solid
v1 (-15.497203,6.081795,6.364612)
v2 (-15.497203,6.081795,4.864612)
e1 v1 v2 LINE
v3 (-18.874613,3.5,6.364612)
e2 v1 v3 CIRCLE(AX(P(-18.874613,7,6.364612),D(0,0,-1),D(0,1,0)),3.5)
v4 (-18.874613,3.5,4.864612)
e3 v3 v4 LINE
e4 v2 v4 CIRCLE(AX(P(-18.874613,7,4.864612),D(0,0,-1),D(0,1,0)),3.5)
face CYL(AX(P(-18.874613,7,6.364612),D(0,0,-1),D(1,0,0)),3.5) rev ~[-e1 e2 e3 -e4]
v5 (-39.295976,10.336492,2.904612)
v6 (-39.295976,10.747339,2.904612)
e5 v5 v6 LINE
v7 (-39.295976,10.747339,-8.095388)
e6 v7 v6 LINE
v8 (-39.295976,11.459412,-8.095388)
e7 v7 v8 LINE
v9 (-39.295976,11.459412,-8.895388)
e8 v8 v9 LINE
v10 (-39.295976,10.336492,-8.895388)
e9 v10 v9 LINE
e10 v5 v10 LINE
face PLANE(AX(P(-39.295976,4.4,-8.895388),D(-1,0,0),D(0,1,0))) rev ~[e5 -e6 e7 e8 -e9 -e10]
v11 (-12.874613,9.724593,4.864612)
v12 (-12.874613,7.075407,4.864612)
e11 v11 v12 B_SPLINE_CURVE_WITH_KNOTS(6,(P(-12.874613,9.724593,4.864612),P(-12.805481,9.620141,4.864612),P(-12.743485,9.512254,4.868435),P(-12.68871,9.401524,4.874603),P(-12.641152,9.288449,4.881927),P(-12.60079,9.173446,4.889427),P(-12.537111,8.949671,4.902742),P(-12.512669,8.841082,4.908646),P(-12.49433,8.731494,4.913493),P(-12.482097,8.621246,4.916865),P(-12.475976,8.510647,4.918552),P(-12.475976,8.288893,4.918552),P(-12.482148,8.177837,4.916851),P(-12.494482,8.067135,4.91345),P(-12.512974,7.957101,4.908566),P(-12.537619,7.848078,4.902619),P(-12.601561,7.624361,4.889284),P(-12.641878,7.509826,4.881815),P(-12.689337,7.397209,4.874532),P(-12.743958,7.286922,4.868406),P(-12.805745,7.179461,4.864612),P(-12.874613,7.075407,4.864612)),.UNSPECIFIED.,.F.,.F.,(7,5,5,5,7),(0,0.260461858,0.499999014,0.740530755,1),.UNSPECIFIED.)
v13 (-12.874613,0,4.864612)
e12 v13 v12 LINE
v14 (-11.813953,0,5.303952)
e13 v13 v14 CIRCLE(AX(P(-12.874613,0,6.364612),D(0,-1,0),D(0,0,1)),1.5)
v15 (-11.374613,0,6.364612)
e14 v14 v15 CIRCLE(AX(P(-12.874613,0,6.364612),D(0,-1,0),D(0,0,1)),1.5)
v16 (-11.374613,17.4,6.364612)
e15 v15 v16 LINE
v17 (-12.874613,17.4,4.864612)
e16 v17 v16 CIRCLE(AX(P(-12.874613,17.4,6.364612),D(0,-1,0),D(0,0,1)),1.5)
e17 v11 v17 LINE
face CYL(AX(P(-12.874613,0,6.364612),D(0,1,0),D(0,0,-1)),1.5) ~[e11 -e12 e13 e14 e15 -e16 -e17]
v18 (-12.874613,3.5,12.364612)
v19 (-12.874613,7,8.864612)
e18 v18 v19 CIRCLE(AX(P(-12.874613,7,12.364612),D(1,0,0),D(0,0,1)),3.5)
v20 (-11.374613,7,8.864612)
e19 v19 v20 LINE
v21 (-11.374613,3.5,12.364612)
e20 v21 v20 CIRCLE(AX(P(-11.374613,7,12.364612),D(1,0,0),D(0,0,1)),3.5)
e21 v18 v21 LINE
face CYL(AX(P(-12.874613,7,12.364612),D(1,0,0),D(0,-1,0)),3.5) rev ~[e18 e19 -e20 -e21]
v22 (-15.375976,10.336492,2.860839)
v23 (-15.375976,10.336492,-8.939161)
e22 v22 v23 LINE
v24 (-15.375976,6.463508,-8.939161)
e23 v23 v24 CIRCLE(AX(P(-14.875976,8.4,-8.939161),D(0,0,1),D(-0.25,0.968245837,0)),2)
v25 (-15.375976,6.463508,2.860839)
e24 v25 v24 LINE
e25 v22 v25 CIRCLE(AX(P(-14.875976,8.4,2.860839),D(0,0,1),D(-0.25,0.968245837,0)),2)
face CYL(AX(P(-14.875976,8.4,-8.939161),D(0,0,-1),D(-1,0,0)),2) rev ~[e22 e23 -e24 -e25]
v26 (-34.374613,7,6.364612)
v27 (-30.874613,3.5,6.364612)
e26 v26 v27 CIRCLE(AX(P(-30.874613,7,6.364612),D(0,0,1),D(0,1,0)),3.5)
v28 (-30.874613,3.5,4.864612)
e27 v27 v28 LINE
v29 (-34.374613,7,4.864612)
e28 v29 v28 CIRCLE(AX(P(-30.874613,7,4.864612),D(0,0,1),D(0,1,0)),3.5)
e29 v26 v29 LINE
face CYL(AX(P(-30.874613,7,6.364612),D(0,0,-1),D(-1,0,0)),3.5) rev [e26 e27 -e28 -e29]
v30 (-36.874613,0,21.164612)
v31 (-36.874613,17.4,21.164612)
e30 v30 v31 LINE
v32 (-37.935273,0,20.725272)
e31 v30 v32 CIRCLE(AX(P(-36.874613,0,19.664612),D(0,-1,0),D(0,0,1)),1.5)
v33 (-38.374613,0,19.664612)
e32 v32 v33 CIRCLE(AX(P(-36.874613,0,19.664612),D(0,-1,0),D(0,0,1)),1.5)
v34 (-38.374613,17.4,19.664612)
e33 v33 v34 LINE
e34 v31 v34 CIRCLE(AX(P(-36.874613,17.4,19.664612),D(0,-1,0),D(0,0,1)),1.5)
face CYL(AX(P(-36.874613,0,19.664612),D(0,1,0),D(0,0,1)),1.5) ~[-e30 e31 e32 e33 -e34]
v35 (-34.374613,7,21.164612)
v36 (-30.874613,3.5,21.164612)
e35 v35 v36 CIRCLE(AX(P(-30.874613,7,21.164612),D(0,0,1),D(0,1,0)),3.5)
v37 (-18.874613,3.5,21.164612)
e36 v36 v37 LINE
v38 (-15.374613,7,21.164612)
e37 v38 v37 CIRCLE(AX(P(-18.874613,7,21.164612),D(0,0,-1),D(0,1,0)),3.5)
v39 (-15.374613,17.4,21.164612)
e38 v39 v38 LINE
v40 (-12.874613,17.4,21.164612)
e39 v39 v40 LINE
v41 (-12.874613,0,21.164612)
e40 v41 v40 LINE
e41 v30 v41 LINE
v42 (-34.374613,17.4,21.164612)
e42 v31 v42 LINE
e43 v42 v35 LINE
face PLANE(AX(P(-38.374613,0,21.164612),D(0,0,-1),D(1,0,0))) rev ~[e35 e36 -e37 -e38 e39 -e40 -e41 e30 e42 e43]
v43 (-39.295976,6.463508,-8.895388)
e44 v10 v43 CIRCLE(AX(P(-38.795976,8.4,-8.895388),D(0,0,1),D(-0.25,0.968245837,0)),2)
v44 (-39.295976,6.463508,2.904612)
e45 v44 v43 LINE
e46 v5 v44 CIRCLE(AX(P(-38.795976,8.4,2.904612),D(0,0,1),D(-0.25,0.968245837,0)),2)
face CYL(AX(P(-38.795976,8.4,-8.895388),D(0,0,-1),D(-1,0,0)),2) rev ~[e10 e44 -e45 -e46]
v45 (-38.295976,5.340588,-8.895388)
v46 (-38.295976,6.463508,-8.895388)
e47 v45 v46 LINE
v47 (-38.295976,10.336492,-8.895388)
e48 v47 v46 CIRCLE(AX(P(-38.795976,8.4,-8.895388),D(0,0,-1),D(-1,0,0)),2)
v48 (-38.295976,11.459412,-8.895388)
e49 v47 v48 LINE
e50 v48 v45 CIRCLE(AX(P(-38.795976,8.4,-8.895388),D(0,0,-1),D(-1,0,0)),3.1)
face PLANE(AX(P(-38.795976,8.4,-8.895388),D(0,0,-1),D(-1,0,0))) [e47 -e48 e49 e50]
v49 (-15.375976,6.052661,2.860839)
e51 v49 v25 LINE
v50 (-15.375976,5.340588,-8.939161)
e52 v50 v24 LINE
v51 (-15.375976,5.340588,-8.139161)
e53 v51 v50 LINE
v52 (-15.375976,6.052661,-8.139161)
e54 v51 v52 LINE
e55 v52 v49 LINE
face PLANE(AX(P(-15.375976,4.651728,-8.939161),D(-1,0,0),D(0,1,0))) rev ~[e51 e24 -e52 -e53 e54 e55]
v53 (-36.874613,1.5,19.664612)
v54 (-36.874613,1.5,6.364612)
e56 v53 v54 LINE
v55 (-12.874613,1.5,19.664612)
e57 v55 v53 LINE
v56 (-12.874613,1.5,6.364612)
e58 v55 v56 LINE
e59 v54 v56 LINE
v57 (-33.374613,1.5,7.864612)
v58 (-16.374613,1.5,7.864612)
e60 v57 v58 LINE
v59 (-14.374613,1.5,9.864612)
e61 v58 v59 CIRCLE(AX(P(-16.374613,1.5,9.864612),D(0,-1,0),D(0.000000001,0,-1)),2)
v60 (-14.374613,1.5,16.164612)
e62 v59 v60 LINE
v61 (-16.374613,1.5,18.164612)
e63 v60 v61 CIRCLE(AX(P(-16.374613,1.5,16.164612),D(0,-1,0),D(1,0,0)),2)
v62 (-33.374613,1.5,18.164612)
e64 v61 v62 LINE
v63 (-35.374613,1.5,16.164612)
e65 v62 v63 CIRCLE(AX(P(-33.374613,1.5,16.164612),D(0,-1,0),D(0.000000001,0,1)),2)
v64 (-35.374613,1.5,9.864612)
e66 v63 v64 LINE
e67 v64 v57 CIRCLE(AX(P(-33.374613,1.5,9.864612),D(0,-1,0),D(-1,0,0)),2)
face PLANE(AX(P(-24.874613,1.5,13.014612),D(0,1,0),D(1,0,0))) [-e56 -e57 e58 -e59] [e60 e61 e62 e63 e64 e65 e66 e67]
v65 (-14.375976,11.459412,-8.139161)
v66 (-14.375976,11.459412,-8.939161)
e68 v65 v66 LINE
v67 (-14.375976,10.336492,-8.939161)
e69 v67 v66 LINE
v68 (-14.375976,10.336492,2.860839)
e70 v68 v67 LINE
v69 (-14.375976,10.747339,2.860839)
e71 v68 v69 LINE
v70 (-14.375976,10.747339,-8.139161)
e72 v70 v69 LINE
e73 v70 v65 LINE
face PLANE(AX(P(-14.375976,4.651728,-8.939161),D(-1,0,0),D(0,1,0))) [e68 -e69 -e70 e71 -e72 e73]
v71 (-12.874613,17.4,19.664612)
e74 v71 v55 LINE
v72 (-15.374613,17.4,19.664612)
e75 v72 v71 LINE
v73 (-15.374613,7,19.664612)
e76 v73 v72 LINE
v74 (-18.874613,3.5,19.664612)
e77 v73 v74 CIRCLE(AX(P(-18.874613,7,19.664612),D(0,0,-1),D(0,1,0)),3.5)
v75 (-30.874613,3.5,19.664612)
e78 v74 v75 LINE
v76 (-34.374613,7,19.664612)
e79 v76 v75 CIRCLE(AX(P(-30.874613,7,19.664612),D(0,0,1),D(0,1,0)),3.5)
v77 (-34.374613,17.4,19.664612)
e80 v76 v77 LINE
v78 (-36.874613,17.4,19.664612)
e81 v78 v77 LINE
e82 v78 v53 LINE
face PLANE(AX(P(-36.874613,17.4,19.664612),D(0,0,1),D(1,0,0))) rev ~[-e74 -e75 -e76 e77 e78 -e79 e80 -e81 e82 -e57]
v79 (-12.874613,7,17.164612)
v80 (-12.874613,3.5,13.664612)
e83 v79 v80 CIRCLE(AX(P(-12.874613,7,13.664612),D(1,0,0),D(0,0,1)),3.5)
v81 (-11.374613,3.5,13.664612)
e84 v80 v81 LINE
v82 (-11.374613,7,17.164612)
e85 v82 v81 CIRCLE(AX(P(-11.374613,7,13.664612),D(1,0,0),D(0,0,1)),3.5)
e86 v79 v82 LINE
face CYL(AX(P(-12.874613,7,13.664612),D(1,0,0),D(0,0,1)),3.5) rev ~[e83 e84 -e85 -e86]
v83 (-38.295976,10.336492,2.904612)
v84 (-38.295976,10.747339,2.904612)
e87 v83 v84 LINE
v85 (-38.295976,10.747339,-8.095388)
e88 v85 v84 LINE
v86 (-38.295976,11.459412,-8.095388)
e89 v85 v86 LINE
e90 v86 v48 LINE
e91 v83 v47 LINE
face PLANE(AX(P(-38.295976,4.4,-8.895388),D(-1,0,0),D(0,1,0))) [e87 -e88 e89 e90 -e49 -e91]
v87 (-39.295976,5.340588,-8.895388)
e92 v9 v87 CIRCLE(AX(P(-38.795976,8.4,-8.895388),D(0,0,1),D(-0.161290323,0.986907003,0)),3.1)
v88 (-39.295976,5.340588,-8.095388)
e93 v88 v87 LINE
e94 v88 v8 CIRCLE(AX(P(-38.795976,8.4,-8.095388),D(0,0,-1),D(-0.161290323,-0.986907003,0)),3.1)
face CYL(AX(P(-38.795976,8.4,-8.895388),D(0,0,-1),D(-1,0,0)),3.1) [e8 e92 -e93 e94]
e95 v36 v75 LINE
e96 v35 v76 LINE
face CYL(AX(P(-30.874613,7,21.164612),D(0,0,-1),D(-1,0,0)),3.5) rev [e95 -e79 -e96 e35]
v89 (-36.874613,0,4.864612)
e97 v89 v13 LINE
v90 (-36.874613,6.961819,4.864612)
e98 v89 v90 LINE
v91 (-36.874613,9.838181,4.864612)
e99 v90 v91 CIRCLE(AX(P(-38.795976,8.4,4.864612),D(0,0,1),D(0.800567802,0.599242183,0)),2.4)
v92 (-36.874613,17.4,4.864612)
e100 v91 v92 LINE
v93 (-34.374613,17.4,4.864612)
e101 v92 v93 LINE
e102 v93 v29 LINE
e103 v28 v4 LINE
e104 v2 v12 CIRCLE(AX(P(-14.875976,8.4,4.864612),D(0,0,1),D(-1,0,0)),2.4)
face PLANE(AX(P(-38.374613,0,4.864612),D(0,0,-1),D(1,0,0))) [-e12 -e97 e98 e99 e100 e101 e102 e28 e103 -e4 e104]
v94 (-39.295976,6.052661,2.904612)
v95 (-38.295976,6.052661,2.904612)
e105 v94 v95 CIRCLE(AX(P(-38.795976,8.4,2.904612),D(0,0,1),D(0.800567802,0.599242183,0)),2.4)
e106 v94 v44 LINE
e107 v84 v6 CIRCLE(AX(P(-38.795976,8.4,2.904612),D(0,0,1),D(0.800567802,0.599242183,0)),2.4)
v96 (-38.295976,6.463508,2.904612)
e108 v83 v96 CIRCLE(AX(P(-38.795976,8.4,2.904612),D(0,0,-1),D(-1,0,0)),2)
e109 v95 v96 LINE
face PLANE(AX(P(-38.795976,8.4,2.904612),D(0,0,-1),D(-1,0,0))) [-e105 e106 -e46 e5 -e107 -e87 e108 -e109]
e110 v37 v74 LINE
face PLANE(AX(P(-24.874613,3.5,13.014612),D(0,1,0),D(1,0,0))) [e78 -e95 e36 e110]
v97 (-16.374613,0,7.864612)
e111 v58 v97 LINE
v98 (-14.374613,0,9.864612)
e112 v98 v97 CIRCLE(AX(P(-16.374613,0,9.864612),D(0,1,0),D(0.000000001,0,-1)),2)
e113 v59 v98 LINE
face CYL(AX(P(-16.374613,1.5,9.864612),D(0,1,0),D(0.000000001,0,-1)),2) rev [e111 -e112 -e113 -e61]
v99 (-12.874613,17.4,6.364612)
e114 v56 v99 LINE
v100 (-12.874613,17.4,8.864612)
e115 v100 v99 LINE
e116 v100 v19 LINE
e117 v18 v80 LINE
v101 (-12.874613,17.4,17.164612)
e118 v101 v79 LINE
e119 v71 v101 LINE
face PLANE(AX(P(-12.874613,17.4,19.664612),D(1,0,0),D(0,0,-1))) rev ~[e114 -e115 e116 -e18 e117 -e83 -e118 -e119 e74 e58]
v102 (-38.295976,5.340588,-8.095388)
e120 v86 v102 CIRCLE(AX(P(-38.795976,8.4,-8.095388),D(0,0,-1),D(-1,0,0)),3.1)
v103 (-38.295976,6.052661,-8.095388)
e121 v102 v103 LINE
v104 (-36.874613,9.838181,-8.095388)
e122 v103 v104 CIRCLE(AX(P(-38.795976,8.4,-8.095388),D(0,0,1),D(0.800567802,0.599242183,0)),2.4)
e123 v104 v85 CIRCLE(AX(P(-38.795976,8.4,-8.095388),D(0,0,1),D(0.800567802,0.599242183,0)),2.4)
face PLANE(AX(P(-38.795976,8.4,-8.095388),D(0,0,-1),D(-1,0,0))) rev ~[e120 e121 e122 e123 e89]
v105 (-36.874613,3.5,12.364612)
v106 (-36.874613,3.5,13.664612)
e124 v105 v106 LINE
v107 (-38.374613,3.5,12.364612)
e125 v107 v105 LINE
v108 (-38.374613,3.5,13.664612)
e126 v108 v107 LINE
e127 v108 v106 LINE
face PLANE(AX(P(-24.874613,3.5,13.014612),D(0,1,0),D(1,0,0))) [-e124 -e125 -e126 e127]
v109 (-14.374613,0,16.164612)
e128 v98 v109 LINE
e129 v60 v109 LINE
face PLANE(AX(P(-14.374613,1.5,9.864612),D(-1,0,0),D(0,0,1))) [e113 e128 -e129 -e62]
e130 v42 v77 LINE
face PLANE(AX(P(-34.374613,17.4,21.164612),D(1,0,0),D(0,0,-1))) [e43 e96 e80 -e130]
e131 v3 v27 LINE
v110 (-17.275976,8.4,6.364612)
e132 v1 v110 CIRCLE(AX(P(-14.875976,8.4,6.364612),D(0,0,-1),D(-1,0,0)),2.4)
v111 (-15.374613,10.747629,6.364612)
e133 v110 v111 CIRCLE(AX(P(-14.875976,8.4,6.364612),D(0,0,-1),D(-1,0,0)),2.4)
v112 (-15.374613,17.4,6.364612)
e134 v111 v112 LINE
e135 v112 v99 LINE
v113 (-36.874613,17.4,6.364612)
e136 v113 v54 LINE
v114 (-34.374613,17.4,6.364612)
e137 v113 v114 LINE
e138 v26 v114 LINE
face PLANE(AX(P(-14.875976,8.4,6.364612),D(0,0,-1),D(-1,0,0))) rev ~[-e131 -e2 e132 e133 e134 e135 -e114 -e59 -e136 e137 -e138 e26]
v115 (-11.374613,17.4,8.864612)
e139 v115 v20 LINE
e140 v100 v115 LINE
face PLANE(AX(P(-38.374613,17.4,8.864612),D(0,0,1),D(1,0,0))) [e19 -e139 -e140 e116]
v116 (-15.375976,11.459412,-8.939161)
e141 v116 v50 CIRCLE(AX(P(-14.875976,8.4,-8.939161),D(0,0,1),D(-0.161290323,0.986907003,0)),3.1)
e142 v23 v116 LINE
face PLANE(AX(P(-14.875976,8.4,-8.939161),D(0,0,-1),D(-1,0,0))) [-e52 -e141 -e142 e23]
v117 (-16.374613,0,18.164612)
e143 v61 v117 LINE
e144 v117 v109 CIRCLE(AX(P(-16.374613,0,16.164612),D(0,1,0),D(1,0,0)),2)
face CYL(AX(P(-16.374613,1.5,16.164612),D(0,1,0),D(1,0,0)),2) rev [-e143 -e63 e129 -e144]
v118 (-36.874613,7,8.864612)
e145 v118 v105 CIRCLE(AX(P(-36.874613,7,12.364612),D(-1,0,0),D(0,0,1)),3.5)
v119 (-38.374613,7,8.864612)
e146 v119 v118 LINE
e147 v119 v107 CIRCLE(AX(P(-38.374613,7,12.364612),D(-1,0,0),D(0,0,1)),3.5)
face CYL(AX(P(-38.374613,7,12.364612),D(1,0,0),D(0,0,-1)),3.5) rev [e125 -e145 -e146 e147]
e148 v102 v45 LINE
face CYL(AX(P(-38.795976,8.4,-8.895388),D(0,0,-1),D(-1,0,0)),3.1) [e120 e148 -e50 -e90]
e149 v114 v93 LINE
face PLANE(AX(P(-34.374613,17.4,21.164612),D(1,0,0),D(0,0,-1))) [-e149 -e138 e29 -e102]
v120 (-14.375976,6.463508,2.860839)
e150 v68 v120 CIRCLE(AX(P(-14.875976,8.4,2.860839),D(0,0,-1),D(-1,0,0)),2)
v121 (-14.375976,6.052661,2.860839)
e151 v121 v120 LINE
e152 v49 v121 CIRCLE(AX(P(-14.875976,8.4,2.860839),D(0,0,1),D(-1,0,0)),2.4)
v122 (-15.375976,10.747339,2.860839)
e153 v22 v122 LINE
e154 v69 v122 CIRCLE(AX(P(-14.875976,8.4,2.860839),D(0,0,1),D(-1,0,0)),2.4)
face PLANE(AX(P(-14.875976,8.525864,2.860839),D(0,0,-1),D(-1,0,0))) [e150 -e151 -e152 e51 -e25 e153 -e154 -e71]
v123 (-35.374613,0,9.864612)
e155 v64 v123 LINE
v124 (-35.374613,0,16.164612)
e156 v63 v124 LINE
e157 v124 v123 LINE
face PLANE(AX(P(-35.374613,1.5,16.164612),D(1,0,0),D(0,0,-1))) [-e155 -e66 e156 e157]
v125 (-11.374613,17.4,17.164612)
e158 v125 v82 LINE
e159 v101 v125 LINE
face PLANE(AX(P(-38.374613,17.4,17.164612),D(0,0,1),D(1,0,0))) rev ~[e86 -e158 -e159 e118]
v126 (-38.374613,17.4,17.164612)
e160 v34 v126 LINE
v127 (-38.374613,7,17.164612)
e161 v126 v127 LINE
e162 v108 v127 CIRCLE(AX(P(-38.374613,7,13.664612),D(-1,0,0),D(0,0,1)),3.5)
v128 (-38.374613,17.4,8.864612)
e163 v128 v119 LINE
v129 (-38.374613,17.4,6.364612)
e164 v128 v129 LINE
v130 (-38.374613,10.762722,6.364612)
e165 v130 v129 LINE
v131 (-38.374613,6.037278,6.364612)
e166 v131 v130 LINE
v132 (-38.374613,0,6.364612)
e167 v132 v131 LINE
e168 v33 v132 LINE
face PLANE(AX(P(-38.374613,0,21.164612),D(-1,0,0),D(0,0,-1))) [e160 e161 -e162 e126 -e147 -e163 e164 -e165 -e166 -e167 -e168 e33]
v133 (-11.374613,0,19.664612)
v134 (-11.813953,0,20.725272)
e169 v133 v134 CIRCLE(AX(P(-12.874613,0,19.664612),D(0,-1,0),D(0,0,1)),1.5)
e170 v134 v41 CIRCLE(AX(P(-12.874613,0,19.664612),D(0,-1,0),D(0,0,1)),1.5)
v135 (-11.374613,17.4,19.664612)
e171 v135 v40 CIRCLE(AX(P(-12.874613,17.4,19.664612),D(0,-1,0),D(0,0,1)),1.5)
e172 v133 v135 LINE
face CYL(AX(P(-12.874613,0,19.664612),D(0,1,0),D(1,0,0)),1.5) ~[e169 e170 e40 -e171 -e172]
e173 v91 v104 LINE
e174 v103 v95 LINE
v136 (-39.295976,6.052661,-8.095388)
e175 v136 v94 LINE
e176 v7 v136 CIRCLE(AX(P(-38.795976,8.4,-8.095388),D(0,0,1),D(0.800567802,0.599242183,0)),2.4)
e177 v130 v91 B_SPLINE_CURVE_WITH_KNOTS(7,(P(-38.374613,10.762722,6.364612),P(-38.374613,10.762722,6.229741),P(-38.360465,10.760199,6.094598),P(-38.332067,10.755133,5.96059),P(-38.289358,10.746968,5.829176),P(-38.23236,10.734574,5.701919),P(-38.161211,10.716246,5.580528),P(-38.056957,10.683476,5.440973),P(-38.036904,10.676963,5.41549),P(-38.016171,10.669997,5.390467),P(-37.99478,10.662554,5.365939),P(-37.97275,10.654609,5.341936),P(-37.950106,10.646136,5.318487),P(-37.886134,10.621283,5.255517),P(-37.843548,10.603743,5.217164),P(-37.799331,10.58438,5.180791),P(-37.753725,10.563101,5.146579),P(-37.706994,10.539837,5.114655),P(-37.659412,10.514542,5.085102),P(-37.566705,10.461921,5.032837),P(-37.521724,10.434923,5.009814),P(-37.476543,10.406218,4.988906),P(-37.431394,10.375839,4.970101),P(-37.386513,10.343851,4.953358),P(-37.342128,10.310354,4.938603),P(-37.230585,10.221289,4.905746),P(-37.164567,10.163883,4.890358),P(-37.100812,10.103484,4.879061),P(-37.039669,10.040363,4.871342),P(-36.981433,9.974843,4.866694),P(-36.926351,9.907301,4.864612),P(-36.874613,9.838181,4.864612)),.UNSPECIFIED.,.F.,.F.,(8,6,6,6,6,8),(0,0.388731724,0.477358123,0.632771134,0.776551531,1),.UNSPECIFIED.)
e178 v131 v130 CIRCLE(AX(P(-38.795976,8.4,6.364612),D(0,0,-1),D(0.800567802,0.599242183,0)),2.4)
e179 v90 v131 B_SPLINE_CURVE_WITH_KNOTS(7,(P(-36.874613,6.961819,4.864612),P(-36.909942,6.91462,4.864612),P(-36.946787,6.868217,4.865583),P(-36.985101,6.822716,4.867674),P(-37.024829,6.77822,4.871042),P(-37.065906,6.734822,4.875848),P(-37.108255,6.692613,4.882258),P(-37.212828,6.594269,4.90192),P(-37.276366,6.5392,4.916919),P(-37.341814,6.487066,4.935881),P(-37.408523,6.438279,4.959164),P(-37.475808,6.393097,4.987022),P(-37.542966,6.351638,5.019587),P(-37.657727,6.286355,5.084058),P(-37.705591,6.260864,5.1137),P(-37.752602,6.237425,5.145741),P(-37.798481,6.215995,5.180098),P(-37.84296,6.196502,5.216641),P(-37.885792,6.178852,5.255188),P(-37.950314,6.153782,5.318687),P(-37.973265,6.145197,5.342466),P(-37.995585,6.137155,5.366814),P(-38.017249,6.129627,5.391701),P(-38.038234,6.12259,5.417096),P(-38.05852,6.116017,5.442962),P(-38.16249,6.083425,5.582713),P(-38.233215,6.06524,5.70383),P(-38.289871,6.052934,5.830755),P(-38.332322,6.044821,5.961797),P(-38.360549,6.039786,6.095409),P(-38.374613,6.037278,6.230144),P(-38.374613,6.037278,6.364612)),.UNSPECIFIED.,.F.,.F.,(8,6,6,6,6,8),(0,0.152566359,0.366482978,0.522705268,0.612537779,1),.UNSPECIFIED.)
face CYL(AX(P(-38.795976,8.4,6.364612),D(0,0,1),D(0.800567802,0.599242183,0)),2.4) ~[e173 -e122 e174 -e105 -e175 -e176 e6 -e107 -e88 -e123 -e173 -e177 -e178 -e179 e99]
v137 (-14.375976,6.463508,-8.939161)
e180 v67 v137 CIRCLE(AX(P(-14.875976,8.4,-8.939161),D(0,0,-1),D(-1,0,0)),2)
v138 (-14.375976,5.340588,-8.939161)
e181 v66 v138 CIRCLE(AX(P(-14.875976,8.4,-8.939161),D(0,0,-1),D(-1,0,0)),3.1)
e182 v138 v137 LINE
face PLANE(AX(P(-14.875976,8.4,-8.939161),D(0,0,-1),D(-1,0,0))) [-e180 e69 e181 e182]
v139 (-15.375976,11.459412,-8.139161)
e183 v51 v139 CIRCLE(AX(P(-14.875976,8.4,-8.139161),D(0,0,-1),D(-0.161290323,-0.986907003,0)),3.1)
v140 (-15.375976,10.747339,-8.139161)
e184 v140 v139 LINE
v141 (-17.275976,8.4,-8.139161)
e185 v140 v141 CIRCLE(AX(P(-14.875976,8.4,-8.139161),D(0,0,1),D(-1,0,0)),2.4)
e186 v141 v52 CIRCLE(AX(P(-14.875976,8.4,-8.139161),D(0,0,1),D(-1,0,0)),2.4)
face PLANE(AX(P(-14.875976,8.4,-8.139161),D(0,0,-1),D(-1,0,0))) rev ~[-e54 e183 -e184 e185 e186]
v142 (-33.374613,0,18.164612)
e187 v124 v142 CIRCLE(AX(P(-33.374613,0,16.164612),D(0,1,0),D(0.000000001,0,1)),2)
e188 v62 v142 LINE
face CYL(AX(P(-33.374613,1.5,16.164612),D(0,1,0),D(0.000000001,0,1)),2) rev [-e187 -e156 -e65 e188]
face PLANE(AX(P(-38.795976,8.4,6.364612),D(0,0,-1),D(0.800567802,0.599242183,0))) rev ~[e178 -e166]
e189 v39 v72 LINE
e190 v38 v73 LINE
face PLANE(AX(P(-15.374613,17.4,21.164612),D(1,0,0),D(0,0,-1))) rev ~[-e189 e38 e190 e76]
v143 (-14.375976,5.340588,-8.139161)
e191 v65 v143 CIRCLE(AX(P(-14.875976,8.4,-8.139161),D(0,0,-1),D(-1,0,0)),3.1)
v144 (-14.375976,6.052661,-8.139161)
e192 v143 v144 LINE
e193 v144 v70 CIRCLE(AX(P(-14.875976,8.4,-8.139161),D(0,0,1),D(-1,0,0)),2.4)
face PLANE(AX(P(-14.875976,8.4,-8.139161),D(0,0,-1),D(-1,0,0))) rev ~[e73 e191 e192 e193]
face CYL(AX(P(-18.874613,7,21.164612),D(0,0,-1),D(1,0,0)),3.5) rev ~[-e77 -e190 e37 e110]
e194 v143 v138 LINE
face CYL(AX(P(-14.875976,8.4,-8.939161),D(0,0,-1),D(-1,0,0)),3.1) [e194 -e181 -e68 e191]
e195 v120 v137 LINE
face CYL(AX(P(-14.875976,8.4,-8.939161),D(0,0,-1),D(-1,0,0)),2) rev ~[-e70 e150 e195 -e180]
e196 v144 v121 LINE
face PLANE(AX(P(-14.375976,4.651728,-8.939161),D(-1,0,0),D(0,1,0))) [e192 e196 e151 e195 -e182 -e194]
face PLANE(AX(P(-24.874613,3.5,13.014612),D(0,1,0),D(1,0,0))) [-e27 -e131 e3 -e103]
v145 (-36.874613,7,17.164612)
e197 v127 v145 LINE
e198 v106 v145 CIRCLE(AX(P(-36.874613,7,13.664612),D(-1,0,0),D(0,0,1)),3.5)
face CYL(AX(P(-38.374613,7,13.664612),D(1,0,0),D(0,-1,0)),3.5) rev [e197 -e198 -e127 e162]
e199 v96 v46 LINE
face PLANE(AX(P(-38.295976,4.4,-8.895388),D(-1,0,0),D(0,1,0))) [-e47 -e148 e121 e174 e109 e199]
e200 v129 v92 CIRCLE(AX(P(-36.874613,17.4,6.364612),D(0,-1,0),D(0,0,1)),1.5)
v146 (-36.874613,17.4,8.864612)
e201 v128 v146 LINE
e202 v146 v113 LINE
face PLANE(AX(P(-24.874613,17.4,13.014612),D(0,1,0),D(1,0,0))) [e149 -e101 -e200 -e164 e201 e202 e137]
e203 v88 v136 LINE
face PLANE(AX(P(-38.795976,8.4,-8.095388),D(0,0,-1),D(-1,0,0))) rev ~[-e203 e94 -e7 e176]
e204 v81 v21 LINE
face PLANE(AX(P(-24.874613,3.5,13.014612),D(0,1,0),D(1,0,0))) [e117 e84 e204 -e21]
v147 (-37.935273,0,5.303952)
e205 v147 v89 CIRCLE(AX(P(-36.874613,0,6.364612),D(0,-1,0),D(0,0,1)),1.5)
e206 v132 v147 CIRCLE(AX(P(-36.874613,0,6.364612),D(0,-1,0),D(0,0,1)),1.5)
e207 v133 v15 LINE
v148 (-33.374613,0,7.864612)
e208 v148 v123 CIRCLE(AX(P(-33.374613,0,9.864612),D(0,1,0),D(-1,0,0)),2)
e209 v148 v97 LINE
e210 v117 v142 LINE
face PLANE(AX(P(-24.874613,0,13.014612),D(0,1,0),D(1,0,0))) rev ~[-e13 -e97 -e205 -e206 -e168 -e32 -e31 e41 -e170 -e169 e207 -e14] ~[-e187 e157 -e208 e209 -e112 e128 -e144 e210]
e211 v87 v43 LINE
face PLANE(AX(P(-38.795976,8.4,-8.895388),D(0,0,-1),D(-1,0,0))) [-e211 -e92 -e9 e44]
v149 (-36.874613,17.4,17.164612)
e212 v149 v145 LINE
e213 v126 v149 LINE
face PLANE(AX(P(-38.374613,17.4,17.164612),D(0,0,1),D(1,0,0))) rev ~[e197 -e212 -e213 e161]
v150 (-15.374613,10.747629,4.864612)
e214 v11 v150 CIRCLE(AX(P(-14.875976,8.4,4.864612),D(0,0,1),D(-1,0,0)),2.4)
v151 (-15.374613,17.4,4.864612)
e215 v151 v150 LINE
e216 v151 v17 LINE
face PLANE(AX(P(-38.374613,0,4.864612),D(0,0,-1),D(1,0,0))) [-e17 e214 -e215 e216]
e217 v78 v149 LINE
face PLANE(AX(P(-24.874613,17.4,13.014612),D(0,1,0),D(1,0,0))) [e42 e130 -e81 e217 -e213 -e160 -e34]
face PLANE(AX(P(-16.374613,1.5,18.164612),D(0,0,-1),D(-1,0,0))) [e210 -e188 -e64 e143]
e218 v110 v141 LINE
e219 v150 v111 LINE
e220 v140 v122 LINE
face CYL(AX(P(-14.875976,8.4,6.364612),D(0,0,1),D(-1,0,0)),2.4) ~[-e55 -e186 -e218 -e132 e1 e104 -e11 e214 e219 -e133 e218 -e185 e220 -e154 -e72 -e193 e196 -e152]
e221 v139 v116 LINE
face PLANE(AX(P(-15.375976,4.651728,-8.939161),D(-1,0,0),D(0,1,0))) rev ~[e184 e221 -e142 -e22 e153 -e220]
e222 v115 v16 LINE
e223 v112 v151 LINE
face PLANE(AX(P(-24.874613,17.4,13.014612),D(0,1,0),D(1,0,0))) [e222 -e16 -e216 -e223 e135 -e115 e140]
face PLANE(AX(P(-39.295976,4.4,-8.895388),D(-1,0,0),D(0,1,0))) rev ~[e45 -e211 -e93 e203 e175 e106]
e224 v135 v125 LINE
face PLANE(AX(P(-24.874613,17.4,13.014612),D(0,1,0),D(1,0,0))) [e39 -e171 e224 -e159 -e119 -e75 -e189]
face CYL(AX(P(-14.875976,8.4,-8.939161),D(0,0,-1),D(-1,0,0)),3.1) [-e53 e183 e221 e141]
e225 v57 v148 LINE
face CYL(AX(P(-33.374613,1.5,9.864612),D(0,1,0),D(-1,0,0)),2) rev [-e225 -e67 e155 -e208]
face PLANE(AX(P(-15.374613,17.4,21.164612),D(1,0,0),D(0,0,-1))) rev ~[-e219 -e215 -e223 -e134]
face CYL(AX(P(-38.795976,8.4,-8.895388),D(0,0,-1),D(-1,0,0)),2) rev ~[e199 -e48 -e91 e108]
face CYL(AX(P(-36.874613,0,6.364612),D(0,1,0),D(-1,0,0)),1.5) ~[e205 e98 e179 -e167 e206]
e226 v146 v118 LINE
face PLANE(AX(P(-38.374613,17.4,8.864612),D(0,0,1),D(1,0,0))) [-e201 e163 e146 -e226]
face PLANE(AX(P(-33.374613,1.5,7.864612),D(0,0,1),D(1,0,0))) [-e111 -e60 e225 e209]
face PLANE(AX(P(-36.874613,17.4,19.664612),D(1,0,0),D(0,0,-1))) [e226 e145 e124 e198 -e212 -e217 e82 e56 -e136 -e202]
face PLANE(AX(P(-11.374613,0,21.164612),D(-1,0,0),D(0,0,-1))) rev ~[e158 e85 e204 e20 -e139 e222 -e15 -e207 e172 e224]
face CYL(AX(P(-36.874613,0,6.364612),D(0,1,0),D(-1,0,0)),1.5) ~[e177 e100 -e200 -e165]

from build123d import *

# Parameters (mm, degrees)
SKETCH1_W                = 27
SKETCH1_H                = 16.3
BOSS_EXTRUDE1_DEPTH      = 17.4
SKETCH2_W                = 24
SKETCH2_H                = 13.3
CUT_EXTRUDE1_DEPTH       = 15.9
SKETCH3_W                = 19
SKETCH3_H                = 16.3
CUT_EXTRUDE2_DEPTH       = 13.9
SKETCH4_W                = 27
SKETCH4_H                = 8.3
CUT_EXTRUDE3_DEPTH       = 13.9
SKETCH6_R                = 3.69
BOSS_EXTRUDE2_DEPTH      = 2.38
SKETCH7_R                = 3.1
CUT_EXTRUDE4_DEPTH       = 0.8
SKETCH8_R                = 2.4
CUT_EXTRUDE5_DEPTH       = 4.8
CUT_EXTRUDE7_START       = -0.8
SKETCH9_R                = 3.1
CUT_EXTRUDE7_DEPTH       = 0.8
CUT_EXTRUDE8_DEPTH       = 10
FILLET1_R                = 3.5
FILLET2_R                = 3.5
FILLET3_R                = 3.5
FILLET4_R                = 3.5
FILLET5_R                = 3.5
FILLET6_R                = 3.5
FILLET7_R                = 3.5
FILLET8_R                = 3.5
FILLET9_R                = 1.5
FILLET10_R               = 1.5
FILLET11_R               = 1.5
FILLET12_R               = 1.5
SKETCH11_W               = 20
SKETCH11_H               = 4.569127273
CUT_EXTRUDE10_DEPTH      = 35
SKETCH12_W               = 26.121320344
SKETCH12_H               = 15.421320343
BOSS_EXTRUDE3_DEPTH      = 1.5
BOSS_EXTRUDE4_DEPTH      = 13.76
BOSS_EXTRUDE4_DEPTH_BACK = 1.5
SKETCH14_R               = 2.4
SKETCH15_R               = 3.1
BOSS_EXTRUDE6_DEPTH      = 0.8
SKETCH17_R               = 2
CUT_EXTRUDE11_DEPTH      = 11.8
SKETCH18_W               = 1
SKETCH18_H               = 8
CUT_EXTRUDE12_DEPTH      = 11.8
BOSS_EXTRUDE7_DEPTH      = 13.803772877
BOSS_EXTRUDE7_DEPTH_BACK = 1.5
SKETCH19_R               = 2.4
SKETCH20_R               = 3.1
BOSS_EXTRUDE8_DEPTH      = 0.8
SKETCH21_R               = 2
CUT_EXTRUDE13_DEPTH      = 11.8
SKETCH22_W               = 1
SKETCH22_H               = 7.748272369
CUT_EXTRUDE14_DEPTH      = 11.8
CUT_EXTRUDE15_DEPTH      = 11.8


with BuildPart() as part:
    # Sketch1 → Boss-Extrude1 (new body)
    with BuildSketch(Plane(origin=(0, 0, 0), x_dir=(1, 0, 0), z_dir=(0, 1, 0))):
        with Locations((-24.874612789, -13.014611924)):
            Rectangle(SKETCH1_W, SKETCH1_H)
    extrude(amount=BOSS_EXTRUDE1_DEPTH)

    # Sketch2 → Cut-Extrude1 (cut)
    with BuildSketch(Plane(origin=(0, 17.4, 0), x_dir=(1, 0, 0), z_dir=(0, 1, 0))):
        with Locations((-24.874612789, -13.014611924)):
            Rectangle(SKETCH2_W, SKETCH2_H)
    extrude(amount=-CUT_EXTRUDE1_DEPTH, mode=Mode.SUBTRACT)

    # Sketch3 → Cut-Extrude2 (cut)
    with BuildSketch(Plane(origin=(0, 17.4, 0), x_dir=(1, 0, 0), z_dir=(0, 1, 0))):
        with Locations((-24.874612789, -13.014611924)):
            Rectangle(SKETCH3_W, SKETCH3_H)
    extrude(amount=-CUT_EXTRUDE2_DEPTH, mode=Mode.SUBTRACT)

    # Sketch4 → Cut-Extrude3 (cut)
    with BuildSketch(Plane(origin=(0, 17.4, 0), x_dir=(1, 0, 0), z_dir=(0, 1, 0))):
        with Locations((-24.874612789, -13.014611924)):
            Rectangle(SKETCH4_W, SKETCH4_H)
    extrude(amount=-CUT_EXTRUDE3_DEPTH, mode=Mode.SUBTRACT)

    # Sketch6 → Boss-Extrude2 (add)
    with BuildSketch(Plane(origin=(0, 0, 0), x_dir=(-1, 0, 0), z_dir=(0, -1, 0))):
        with Locations(Location((32.844612789, -9.029611924, 0), (0, 0, 90))):
            Circle(SKETCH6_R)
        with Locations(Location((32.844612789, -16.999611924, 0), (0, 0, 90))):
            Circle(SKETCH6_R)
        with Locations(Location((16.904612789, -9.029611924, 0), (0, 0, 90))):
            Circle(SKETCH6_R)
        with Locations(Location((16.904612789, -16.999611924, 0), (0, 0, 90))):
            Circle(SKETCH6_R)
    extrude(amount=BOSS_EXTRUDE2_DEPTH)

    # Sketch7 → Cut-Extrude4 (cut)
    with BuildSketch(Plane(origin=(0, -2.38, 0), x_dir=(-1, 0, 0), z_dir=(0, -1, 0))):
        with Locations(Location((32.844612789, -9.029611924, 0), (0, 0, 90))):
            Circle(SKETCH7_R)
        with Locations(Location((32.844612789, -16.999611924, 0), (0, 0, 90))):
            Circle(SKETCH7_R)
        with Locations(Location((16.904612789, -16.999611924, 0), (0, 0, 90))):
            Circle(SKETCH7_R)
        with Locations(Location((16.904612789, -9.029611924, 0), (0, 0, 90))):
            Circle(SKETCH7_R)
    extrude(amount=-CUT_EXTRUDE4_DEPTH, mode=Mode.SUBTRACT)

    # Sketch8 → Cut-Extrude5 (cut)
    with BuildSketch(Plane(origin=(0, -1.58, 0), x_dir=(-1, 0, 0), z_dir=(0, -1, 0))):
        with Locations(Location((32.844612789, -9.029611924, 0), (0, 0, 90))):
            Circle(SKETCH8_R)
        with Locations(Location((32.844612789, -16.999611924, 0), (0, 0, 90))):
            Circle(SKETCH8_R)
        with Locations(Location((16.904612789, -16.999611924, 0), (0, 0, 90))):
            Circle(SKETCH8_R)
        with Locations(Location((16.904612789, -9.029611924, 0), (0, 0, 90))):
            Circle(SKETCH8_R)
    extrude(amount=-CUT_EXTRUDE5_DEPTH, mode=Mode.SUBTRACT)

    # Sketch9 → Cut-Extrude7 (cut)
    with BuildSketch(Plane(origin=(0, 1.5, 0), x_dir=(1, 0, 0), z_dir=(0, 1, 0)).offset(CUT_EXTRUDE7_START)):
        with Locations(Location((-16.904612789, -16.999611924, 0), (0, 0, 90))):
            Circle(SKETCH9_R)
        with Locations(Location((-16.904612789, -9.029611924, 0), (0, 0, 90))):
            Circle(SKETCH9_R)
        with Locations(Location((-32.844612789, -9.029611924, 0), (0, 0, 90))):
            Circle(SKETCH9_R)
        with Locations(Location((-32.844612789, -16.999611924, 0), (0, 0, 90))):
            Circle(SKETCH9_R)
    extrude(amount=CUT_EXTRUDE7_DEPTH, mode=Mode.SUBTRACT)

    # Sketch10 → Cut-Extrude8 (cut)
    with BuildSketch(Plane(origin=(0, 1.5, 0), x_dir=(1, 0, 0), z_dir=(0, 1, 0))):
        with BuildLine():
            Line((-22.404612789, -7.864611924), (-27.344612789, -7.864611924))
            ThreePointArc((-27.344612789, -7.864611924), (-28.405272961, -8.303951753), (-28.844612789, -9.364611924))
            Line((-28.844612789, -9.364611924), (-28.844612789, -16.664611924))
            ThreePointArc((-28.844612789, -16.664611924), (-28.405272961, -17.725272096), (-27.344612789, -18.164611924))
            Line((-27.344612789, -18.164611924), (-22.404612789, -18.164611924))
            ThreePointArc((-22.404612789, -18.164611924), (-21.343952617, -17.725272096), (-20.904612789, -16.664611924))
            Line((-20.904612789, -16.664611924), (-20.904612789, -9.364611924))
            ThreePointArc((-20.904612789, -9.364611924), (-21.343952617, -8.303951753), (-22.404612789, -7.864611924))
        make_face()
    extrude(amount=-CUT_EXTRUDE8_DEPTH, mode=Mode.SUBTRACT)

    # Fillet1
    fillet1_edges = [part.edges().sort_by_distance(p)[0] for p in [
        (-15.374612789, 3.5, 5.614611924),
    ]]
    fillet(fillet1_edges, radius=FILLET1_R)

    # Fillet2
    fillet2_edges = [part.edges().sort_by_distance(p)[0] for p in [
        (-15.374612789, 3.5, 20.414611924),
    ]]
    fillet(fillet2_edges, radius=FILLET2_R)

    # Fillet3
    fillet3_edges = [part.edges().sort_by_distance(p)[0] for p in [
        (-12.124612789, 3.5, 17.164611924),
    ]]
    fillet(fillet3_edges, radius=FILLET3_R)

    # Fillet4
    fillet4_edges = [part.edges().sort_by_distance(p)[0] for p in [
        (-12.124612789, 3.5, 8.864611924),
    ]]
    fillet(fillet4_edges, radius=FILLET4_R)

    # Fillet5
    fillet5_edges = [part.edges().sort_by_distance(p)[0] for p in [
        (-37.624612789, 3.5, 8.864611924),
    ]]
    fillet(fillet5_edges, radius=FILLET5_R)

    # Fillet6
    fillet6_edges = [part.edges().sort_by_distance(p)[0] for p in [
        (-37.624612789, 3.5, 17.164611924),
    ]]
    fillet(fillet6_edges, radius=FILLET6_R)

    # Fillet7
    fillet7_edges = [part.edges().sort_by_distance(p)[0] for p in [
        (-34.374612789, 3.5, 5.614611924),
    ]]
    fillet(fillet7_edges, radius=FILLET7_R)

    # Fillet8
    fillet8_edges = [part.edges().sort_by_distance(p)[0] for p in [
        (-34.374612789, 3.5, 20.414611924),
    ]]
    fillet(fillet8_edges, radius=FILLET8_R)

    # Fillet9
    fillet9_edges = [part.edges().sort_by_distance(p)[0] for p in [
        (-38.374612789, 8.7, 21.164611924),
    ]]
    fillet(fillet9_edges, radius=FILLET9_R)

    # Fillet10
    fillet10_edges = [part.edges().sort_by_distance(p)[0] for p in [
        (-38.374612789, 8.7, 4.864611924),
    ]]
    fillet(fillet10_edges, radius=FILLET10_R)

    # Fillet11
    fillet11_edges = [part.edges().sort_by_distance(p)[0] for p in [
        (-11.374612789, 8.7, 4.864611924),
    ]]
    fillet(fillet11_edges, radius=FILLET11_R)

    # Fillet12
    fillet12_edges = [part.edges().sort_by_distance(p)[0] for p in [
        (-11.374612789, 8.7, 21.164611924),
    ]]
    fillet(fillet12_edges, radius=FILLET12_R)

    # Sketch11 → Cut-Extrude10 (cut)
    with BuildSketch(Plane(origin=(-11.374612789, 0, 0), x_dir=(0, 0, -1), z_dir=(1, 0, 0))):
        with Locations((-11.164611924, -2.284563637)):
            Rectangle(SKETCH11_W, SKETCH11_H)
    extrude(amount=-CUT_EXTRUDE10_DEPTH, mode=Mode.SUBTRACT)

    # Sketch12 → Boss-Extrude3 (add)
    with BuildSketch(Plane(origin=(0, 0, 0), x_dir=(-1, 0, 0), z_dir=(0, -1, 0))):
        with Locations((24.874612789, -13.014611925)):
            Rectangle(SKETCH12_W, SKETCH12_H)
    extrude(amount=-BOSS_EXTRUDE3_DEPTH)

    # Sketch14 → Boss-Extrude4 (add, two sides: drawn at the far end of the back side and taken through both)
    with BuildSketch(Plane(origin=(-4.421362725, 0, 4.864611924), x_dir=(-1, 0, 0), z_dir=(0, 0, -1)).offset(-BOSS_EXTRUDE4_DEPTH_BACK)):
        with Locations(Location((34.374612789, 8.4, 0), (0, 0, 143.184357726))):
            Circle(SKETCH14_R)
    extrude(amount=BOSS_EXTRUDE4_DEPTH + BOSS_EXTRUDE4_DEPTH_BACK)

    # Sketch15 → Boss-Extrude6 (add)
    with BuildSketch(Plane(origin=(-4.421362725, 0, -8.895388076), x_dir=(-1, 0, 0), z_dir=(0, 0, -1))):
        with Locations((34.374612789, 8.4)):
            Circle(SKETCH15_R)
    extrude(amount=-BOSS_EXTRUDE6_DEPTH)

    # Sketch17 → Cut-Extrude11 (cut)
    with BuildSketch(Plane(origin=(-4.421362725, 0, -8.895388076), x_dir=(-1, 0, 0), z_dir=(0, 0, -1))):
        with Locations((34.374612789, 8.4)):
            Circle(SKETCH17_R)
    extrude(amount=-CUT_EXTRUDE11_DEPTH, mode=Mode.SUBTRACT)

    # Sketch18 → Cut-Extrude12 (cut)
    with BuildSketch(Plane(origin=(-4.421362725, 0, -8.895388076), x_dir=(-1, 0, 0), z_dir=(0, 0, -1))):
        with Locations((34.374612789, 8.4)):
            Rectangle(SKETCH18_W, SKETCH18_H)
    extrude(amount=-CUT_EXTRUDE12_DEPTH, mode=Mode.SUBTRACT)

    # Sketch19 → Boss-Extrude7 (add, two sides: drawn at the far end of the back side and taken through both)
    with BuildSketch(Plane(origin=(0, 0, 4.864611924), x_dir=(-1, 0, 0), z_dir=(0, 0, -1)).offset(-BOSS_EXTRUDE7_DEPTH_BACK)):
        with Locations((14.875975514, 8.4)):
            Circle(SKETCH19_R)
    extrude(amount=BOSS_EXTRUDE7_DEPTH + BOSS_EXTRUDE7_DEPTH_BACK)

    # Sketch20 → Boss-Extrude8 (add)
    with BuildSketch(Plane(origin=(0, 0, -8.939160952), x_dir=(-1, 0, 0), z_dir=(0, 0, -1))):
        with Locations((14.875975514, 8.4)):
            Circle(SKETCH20_R)
    extrude(amount=-BOSS_EXTRUDE8_DEPTH)

    # Sketch21 → Cut-Extrude13 (cut)
    with BuildSketch(Plane(origin=(0, 0, -8.939160952), x_dir=(-1, 0, 0), z_dir=(0, 0, -1))):
        with Locations((14.875975514, 8.4)):
            Circle(SKETCH21_R)
    extrude(amount=-CUT_EXTRUDE13_DEPTH, mode=Mode.SUBTRACT)

    # Sketch22 → Cut-Extrude14 (cut)
    with BuildSketch(Plane(origin=(0, 0, -8.939160952), x_dir=(-1, 0, 0), z_dir=(0, 0, -1))):
        with Locations((14.875975514, 8.525863815)):
            Rectangle(SKETCH22_W, SKETCH22_H)
    extrude(amount=-CUT_EXTRUDE14_DEPTH, mode=Mode.SUBTRACT)

    # Sketch23 → Cut-Extrude15 (cut)
    with BuildSketch(Plane(origin=(0, 1.5, 0), x_dir=(1, 0, 0), z_dir=(0, 1, 0))):
        with BuildLine():
            Line((-33.374612789, -7.864611924), (-16.374612789, -7.864611924))
            ThreePointArc((-16.374612789, -7.864611924), (-14.960399227, -8.450398362), (-14.374612789, -9.864611924))
            Line((-14.374612789, -9.864611924), (-14.374612789, -16.164611924))
            ThreePointArc((-14.374612789, -16.164611924), (-14.960399227, -17.578825487), (-16.374612789, -18.164611924))
            Line((-16.374612789, -18.164611924), (-33.374612789, -18.164611924))
            ThreePointArc((-33.374612789, -18.164611924), (-34.788826352, -17.578825487), (-35.374612789, -16.164611924))
            Line((-35.374612789, -16.164611924), (-35.374612789, -9.864611924))
            ThreePointArc((-35.374612789, -9.864611924), (-34.788826352, -8.450398362), (-33.374612789, -7.864611924))
        make_face()
    extrude(amount=-CUT_EXTRUDE15_DEPTH, mode=Mode.SUBTRACT)


solid = part.part
